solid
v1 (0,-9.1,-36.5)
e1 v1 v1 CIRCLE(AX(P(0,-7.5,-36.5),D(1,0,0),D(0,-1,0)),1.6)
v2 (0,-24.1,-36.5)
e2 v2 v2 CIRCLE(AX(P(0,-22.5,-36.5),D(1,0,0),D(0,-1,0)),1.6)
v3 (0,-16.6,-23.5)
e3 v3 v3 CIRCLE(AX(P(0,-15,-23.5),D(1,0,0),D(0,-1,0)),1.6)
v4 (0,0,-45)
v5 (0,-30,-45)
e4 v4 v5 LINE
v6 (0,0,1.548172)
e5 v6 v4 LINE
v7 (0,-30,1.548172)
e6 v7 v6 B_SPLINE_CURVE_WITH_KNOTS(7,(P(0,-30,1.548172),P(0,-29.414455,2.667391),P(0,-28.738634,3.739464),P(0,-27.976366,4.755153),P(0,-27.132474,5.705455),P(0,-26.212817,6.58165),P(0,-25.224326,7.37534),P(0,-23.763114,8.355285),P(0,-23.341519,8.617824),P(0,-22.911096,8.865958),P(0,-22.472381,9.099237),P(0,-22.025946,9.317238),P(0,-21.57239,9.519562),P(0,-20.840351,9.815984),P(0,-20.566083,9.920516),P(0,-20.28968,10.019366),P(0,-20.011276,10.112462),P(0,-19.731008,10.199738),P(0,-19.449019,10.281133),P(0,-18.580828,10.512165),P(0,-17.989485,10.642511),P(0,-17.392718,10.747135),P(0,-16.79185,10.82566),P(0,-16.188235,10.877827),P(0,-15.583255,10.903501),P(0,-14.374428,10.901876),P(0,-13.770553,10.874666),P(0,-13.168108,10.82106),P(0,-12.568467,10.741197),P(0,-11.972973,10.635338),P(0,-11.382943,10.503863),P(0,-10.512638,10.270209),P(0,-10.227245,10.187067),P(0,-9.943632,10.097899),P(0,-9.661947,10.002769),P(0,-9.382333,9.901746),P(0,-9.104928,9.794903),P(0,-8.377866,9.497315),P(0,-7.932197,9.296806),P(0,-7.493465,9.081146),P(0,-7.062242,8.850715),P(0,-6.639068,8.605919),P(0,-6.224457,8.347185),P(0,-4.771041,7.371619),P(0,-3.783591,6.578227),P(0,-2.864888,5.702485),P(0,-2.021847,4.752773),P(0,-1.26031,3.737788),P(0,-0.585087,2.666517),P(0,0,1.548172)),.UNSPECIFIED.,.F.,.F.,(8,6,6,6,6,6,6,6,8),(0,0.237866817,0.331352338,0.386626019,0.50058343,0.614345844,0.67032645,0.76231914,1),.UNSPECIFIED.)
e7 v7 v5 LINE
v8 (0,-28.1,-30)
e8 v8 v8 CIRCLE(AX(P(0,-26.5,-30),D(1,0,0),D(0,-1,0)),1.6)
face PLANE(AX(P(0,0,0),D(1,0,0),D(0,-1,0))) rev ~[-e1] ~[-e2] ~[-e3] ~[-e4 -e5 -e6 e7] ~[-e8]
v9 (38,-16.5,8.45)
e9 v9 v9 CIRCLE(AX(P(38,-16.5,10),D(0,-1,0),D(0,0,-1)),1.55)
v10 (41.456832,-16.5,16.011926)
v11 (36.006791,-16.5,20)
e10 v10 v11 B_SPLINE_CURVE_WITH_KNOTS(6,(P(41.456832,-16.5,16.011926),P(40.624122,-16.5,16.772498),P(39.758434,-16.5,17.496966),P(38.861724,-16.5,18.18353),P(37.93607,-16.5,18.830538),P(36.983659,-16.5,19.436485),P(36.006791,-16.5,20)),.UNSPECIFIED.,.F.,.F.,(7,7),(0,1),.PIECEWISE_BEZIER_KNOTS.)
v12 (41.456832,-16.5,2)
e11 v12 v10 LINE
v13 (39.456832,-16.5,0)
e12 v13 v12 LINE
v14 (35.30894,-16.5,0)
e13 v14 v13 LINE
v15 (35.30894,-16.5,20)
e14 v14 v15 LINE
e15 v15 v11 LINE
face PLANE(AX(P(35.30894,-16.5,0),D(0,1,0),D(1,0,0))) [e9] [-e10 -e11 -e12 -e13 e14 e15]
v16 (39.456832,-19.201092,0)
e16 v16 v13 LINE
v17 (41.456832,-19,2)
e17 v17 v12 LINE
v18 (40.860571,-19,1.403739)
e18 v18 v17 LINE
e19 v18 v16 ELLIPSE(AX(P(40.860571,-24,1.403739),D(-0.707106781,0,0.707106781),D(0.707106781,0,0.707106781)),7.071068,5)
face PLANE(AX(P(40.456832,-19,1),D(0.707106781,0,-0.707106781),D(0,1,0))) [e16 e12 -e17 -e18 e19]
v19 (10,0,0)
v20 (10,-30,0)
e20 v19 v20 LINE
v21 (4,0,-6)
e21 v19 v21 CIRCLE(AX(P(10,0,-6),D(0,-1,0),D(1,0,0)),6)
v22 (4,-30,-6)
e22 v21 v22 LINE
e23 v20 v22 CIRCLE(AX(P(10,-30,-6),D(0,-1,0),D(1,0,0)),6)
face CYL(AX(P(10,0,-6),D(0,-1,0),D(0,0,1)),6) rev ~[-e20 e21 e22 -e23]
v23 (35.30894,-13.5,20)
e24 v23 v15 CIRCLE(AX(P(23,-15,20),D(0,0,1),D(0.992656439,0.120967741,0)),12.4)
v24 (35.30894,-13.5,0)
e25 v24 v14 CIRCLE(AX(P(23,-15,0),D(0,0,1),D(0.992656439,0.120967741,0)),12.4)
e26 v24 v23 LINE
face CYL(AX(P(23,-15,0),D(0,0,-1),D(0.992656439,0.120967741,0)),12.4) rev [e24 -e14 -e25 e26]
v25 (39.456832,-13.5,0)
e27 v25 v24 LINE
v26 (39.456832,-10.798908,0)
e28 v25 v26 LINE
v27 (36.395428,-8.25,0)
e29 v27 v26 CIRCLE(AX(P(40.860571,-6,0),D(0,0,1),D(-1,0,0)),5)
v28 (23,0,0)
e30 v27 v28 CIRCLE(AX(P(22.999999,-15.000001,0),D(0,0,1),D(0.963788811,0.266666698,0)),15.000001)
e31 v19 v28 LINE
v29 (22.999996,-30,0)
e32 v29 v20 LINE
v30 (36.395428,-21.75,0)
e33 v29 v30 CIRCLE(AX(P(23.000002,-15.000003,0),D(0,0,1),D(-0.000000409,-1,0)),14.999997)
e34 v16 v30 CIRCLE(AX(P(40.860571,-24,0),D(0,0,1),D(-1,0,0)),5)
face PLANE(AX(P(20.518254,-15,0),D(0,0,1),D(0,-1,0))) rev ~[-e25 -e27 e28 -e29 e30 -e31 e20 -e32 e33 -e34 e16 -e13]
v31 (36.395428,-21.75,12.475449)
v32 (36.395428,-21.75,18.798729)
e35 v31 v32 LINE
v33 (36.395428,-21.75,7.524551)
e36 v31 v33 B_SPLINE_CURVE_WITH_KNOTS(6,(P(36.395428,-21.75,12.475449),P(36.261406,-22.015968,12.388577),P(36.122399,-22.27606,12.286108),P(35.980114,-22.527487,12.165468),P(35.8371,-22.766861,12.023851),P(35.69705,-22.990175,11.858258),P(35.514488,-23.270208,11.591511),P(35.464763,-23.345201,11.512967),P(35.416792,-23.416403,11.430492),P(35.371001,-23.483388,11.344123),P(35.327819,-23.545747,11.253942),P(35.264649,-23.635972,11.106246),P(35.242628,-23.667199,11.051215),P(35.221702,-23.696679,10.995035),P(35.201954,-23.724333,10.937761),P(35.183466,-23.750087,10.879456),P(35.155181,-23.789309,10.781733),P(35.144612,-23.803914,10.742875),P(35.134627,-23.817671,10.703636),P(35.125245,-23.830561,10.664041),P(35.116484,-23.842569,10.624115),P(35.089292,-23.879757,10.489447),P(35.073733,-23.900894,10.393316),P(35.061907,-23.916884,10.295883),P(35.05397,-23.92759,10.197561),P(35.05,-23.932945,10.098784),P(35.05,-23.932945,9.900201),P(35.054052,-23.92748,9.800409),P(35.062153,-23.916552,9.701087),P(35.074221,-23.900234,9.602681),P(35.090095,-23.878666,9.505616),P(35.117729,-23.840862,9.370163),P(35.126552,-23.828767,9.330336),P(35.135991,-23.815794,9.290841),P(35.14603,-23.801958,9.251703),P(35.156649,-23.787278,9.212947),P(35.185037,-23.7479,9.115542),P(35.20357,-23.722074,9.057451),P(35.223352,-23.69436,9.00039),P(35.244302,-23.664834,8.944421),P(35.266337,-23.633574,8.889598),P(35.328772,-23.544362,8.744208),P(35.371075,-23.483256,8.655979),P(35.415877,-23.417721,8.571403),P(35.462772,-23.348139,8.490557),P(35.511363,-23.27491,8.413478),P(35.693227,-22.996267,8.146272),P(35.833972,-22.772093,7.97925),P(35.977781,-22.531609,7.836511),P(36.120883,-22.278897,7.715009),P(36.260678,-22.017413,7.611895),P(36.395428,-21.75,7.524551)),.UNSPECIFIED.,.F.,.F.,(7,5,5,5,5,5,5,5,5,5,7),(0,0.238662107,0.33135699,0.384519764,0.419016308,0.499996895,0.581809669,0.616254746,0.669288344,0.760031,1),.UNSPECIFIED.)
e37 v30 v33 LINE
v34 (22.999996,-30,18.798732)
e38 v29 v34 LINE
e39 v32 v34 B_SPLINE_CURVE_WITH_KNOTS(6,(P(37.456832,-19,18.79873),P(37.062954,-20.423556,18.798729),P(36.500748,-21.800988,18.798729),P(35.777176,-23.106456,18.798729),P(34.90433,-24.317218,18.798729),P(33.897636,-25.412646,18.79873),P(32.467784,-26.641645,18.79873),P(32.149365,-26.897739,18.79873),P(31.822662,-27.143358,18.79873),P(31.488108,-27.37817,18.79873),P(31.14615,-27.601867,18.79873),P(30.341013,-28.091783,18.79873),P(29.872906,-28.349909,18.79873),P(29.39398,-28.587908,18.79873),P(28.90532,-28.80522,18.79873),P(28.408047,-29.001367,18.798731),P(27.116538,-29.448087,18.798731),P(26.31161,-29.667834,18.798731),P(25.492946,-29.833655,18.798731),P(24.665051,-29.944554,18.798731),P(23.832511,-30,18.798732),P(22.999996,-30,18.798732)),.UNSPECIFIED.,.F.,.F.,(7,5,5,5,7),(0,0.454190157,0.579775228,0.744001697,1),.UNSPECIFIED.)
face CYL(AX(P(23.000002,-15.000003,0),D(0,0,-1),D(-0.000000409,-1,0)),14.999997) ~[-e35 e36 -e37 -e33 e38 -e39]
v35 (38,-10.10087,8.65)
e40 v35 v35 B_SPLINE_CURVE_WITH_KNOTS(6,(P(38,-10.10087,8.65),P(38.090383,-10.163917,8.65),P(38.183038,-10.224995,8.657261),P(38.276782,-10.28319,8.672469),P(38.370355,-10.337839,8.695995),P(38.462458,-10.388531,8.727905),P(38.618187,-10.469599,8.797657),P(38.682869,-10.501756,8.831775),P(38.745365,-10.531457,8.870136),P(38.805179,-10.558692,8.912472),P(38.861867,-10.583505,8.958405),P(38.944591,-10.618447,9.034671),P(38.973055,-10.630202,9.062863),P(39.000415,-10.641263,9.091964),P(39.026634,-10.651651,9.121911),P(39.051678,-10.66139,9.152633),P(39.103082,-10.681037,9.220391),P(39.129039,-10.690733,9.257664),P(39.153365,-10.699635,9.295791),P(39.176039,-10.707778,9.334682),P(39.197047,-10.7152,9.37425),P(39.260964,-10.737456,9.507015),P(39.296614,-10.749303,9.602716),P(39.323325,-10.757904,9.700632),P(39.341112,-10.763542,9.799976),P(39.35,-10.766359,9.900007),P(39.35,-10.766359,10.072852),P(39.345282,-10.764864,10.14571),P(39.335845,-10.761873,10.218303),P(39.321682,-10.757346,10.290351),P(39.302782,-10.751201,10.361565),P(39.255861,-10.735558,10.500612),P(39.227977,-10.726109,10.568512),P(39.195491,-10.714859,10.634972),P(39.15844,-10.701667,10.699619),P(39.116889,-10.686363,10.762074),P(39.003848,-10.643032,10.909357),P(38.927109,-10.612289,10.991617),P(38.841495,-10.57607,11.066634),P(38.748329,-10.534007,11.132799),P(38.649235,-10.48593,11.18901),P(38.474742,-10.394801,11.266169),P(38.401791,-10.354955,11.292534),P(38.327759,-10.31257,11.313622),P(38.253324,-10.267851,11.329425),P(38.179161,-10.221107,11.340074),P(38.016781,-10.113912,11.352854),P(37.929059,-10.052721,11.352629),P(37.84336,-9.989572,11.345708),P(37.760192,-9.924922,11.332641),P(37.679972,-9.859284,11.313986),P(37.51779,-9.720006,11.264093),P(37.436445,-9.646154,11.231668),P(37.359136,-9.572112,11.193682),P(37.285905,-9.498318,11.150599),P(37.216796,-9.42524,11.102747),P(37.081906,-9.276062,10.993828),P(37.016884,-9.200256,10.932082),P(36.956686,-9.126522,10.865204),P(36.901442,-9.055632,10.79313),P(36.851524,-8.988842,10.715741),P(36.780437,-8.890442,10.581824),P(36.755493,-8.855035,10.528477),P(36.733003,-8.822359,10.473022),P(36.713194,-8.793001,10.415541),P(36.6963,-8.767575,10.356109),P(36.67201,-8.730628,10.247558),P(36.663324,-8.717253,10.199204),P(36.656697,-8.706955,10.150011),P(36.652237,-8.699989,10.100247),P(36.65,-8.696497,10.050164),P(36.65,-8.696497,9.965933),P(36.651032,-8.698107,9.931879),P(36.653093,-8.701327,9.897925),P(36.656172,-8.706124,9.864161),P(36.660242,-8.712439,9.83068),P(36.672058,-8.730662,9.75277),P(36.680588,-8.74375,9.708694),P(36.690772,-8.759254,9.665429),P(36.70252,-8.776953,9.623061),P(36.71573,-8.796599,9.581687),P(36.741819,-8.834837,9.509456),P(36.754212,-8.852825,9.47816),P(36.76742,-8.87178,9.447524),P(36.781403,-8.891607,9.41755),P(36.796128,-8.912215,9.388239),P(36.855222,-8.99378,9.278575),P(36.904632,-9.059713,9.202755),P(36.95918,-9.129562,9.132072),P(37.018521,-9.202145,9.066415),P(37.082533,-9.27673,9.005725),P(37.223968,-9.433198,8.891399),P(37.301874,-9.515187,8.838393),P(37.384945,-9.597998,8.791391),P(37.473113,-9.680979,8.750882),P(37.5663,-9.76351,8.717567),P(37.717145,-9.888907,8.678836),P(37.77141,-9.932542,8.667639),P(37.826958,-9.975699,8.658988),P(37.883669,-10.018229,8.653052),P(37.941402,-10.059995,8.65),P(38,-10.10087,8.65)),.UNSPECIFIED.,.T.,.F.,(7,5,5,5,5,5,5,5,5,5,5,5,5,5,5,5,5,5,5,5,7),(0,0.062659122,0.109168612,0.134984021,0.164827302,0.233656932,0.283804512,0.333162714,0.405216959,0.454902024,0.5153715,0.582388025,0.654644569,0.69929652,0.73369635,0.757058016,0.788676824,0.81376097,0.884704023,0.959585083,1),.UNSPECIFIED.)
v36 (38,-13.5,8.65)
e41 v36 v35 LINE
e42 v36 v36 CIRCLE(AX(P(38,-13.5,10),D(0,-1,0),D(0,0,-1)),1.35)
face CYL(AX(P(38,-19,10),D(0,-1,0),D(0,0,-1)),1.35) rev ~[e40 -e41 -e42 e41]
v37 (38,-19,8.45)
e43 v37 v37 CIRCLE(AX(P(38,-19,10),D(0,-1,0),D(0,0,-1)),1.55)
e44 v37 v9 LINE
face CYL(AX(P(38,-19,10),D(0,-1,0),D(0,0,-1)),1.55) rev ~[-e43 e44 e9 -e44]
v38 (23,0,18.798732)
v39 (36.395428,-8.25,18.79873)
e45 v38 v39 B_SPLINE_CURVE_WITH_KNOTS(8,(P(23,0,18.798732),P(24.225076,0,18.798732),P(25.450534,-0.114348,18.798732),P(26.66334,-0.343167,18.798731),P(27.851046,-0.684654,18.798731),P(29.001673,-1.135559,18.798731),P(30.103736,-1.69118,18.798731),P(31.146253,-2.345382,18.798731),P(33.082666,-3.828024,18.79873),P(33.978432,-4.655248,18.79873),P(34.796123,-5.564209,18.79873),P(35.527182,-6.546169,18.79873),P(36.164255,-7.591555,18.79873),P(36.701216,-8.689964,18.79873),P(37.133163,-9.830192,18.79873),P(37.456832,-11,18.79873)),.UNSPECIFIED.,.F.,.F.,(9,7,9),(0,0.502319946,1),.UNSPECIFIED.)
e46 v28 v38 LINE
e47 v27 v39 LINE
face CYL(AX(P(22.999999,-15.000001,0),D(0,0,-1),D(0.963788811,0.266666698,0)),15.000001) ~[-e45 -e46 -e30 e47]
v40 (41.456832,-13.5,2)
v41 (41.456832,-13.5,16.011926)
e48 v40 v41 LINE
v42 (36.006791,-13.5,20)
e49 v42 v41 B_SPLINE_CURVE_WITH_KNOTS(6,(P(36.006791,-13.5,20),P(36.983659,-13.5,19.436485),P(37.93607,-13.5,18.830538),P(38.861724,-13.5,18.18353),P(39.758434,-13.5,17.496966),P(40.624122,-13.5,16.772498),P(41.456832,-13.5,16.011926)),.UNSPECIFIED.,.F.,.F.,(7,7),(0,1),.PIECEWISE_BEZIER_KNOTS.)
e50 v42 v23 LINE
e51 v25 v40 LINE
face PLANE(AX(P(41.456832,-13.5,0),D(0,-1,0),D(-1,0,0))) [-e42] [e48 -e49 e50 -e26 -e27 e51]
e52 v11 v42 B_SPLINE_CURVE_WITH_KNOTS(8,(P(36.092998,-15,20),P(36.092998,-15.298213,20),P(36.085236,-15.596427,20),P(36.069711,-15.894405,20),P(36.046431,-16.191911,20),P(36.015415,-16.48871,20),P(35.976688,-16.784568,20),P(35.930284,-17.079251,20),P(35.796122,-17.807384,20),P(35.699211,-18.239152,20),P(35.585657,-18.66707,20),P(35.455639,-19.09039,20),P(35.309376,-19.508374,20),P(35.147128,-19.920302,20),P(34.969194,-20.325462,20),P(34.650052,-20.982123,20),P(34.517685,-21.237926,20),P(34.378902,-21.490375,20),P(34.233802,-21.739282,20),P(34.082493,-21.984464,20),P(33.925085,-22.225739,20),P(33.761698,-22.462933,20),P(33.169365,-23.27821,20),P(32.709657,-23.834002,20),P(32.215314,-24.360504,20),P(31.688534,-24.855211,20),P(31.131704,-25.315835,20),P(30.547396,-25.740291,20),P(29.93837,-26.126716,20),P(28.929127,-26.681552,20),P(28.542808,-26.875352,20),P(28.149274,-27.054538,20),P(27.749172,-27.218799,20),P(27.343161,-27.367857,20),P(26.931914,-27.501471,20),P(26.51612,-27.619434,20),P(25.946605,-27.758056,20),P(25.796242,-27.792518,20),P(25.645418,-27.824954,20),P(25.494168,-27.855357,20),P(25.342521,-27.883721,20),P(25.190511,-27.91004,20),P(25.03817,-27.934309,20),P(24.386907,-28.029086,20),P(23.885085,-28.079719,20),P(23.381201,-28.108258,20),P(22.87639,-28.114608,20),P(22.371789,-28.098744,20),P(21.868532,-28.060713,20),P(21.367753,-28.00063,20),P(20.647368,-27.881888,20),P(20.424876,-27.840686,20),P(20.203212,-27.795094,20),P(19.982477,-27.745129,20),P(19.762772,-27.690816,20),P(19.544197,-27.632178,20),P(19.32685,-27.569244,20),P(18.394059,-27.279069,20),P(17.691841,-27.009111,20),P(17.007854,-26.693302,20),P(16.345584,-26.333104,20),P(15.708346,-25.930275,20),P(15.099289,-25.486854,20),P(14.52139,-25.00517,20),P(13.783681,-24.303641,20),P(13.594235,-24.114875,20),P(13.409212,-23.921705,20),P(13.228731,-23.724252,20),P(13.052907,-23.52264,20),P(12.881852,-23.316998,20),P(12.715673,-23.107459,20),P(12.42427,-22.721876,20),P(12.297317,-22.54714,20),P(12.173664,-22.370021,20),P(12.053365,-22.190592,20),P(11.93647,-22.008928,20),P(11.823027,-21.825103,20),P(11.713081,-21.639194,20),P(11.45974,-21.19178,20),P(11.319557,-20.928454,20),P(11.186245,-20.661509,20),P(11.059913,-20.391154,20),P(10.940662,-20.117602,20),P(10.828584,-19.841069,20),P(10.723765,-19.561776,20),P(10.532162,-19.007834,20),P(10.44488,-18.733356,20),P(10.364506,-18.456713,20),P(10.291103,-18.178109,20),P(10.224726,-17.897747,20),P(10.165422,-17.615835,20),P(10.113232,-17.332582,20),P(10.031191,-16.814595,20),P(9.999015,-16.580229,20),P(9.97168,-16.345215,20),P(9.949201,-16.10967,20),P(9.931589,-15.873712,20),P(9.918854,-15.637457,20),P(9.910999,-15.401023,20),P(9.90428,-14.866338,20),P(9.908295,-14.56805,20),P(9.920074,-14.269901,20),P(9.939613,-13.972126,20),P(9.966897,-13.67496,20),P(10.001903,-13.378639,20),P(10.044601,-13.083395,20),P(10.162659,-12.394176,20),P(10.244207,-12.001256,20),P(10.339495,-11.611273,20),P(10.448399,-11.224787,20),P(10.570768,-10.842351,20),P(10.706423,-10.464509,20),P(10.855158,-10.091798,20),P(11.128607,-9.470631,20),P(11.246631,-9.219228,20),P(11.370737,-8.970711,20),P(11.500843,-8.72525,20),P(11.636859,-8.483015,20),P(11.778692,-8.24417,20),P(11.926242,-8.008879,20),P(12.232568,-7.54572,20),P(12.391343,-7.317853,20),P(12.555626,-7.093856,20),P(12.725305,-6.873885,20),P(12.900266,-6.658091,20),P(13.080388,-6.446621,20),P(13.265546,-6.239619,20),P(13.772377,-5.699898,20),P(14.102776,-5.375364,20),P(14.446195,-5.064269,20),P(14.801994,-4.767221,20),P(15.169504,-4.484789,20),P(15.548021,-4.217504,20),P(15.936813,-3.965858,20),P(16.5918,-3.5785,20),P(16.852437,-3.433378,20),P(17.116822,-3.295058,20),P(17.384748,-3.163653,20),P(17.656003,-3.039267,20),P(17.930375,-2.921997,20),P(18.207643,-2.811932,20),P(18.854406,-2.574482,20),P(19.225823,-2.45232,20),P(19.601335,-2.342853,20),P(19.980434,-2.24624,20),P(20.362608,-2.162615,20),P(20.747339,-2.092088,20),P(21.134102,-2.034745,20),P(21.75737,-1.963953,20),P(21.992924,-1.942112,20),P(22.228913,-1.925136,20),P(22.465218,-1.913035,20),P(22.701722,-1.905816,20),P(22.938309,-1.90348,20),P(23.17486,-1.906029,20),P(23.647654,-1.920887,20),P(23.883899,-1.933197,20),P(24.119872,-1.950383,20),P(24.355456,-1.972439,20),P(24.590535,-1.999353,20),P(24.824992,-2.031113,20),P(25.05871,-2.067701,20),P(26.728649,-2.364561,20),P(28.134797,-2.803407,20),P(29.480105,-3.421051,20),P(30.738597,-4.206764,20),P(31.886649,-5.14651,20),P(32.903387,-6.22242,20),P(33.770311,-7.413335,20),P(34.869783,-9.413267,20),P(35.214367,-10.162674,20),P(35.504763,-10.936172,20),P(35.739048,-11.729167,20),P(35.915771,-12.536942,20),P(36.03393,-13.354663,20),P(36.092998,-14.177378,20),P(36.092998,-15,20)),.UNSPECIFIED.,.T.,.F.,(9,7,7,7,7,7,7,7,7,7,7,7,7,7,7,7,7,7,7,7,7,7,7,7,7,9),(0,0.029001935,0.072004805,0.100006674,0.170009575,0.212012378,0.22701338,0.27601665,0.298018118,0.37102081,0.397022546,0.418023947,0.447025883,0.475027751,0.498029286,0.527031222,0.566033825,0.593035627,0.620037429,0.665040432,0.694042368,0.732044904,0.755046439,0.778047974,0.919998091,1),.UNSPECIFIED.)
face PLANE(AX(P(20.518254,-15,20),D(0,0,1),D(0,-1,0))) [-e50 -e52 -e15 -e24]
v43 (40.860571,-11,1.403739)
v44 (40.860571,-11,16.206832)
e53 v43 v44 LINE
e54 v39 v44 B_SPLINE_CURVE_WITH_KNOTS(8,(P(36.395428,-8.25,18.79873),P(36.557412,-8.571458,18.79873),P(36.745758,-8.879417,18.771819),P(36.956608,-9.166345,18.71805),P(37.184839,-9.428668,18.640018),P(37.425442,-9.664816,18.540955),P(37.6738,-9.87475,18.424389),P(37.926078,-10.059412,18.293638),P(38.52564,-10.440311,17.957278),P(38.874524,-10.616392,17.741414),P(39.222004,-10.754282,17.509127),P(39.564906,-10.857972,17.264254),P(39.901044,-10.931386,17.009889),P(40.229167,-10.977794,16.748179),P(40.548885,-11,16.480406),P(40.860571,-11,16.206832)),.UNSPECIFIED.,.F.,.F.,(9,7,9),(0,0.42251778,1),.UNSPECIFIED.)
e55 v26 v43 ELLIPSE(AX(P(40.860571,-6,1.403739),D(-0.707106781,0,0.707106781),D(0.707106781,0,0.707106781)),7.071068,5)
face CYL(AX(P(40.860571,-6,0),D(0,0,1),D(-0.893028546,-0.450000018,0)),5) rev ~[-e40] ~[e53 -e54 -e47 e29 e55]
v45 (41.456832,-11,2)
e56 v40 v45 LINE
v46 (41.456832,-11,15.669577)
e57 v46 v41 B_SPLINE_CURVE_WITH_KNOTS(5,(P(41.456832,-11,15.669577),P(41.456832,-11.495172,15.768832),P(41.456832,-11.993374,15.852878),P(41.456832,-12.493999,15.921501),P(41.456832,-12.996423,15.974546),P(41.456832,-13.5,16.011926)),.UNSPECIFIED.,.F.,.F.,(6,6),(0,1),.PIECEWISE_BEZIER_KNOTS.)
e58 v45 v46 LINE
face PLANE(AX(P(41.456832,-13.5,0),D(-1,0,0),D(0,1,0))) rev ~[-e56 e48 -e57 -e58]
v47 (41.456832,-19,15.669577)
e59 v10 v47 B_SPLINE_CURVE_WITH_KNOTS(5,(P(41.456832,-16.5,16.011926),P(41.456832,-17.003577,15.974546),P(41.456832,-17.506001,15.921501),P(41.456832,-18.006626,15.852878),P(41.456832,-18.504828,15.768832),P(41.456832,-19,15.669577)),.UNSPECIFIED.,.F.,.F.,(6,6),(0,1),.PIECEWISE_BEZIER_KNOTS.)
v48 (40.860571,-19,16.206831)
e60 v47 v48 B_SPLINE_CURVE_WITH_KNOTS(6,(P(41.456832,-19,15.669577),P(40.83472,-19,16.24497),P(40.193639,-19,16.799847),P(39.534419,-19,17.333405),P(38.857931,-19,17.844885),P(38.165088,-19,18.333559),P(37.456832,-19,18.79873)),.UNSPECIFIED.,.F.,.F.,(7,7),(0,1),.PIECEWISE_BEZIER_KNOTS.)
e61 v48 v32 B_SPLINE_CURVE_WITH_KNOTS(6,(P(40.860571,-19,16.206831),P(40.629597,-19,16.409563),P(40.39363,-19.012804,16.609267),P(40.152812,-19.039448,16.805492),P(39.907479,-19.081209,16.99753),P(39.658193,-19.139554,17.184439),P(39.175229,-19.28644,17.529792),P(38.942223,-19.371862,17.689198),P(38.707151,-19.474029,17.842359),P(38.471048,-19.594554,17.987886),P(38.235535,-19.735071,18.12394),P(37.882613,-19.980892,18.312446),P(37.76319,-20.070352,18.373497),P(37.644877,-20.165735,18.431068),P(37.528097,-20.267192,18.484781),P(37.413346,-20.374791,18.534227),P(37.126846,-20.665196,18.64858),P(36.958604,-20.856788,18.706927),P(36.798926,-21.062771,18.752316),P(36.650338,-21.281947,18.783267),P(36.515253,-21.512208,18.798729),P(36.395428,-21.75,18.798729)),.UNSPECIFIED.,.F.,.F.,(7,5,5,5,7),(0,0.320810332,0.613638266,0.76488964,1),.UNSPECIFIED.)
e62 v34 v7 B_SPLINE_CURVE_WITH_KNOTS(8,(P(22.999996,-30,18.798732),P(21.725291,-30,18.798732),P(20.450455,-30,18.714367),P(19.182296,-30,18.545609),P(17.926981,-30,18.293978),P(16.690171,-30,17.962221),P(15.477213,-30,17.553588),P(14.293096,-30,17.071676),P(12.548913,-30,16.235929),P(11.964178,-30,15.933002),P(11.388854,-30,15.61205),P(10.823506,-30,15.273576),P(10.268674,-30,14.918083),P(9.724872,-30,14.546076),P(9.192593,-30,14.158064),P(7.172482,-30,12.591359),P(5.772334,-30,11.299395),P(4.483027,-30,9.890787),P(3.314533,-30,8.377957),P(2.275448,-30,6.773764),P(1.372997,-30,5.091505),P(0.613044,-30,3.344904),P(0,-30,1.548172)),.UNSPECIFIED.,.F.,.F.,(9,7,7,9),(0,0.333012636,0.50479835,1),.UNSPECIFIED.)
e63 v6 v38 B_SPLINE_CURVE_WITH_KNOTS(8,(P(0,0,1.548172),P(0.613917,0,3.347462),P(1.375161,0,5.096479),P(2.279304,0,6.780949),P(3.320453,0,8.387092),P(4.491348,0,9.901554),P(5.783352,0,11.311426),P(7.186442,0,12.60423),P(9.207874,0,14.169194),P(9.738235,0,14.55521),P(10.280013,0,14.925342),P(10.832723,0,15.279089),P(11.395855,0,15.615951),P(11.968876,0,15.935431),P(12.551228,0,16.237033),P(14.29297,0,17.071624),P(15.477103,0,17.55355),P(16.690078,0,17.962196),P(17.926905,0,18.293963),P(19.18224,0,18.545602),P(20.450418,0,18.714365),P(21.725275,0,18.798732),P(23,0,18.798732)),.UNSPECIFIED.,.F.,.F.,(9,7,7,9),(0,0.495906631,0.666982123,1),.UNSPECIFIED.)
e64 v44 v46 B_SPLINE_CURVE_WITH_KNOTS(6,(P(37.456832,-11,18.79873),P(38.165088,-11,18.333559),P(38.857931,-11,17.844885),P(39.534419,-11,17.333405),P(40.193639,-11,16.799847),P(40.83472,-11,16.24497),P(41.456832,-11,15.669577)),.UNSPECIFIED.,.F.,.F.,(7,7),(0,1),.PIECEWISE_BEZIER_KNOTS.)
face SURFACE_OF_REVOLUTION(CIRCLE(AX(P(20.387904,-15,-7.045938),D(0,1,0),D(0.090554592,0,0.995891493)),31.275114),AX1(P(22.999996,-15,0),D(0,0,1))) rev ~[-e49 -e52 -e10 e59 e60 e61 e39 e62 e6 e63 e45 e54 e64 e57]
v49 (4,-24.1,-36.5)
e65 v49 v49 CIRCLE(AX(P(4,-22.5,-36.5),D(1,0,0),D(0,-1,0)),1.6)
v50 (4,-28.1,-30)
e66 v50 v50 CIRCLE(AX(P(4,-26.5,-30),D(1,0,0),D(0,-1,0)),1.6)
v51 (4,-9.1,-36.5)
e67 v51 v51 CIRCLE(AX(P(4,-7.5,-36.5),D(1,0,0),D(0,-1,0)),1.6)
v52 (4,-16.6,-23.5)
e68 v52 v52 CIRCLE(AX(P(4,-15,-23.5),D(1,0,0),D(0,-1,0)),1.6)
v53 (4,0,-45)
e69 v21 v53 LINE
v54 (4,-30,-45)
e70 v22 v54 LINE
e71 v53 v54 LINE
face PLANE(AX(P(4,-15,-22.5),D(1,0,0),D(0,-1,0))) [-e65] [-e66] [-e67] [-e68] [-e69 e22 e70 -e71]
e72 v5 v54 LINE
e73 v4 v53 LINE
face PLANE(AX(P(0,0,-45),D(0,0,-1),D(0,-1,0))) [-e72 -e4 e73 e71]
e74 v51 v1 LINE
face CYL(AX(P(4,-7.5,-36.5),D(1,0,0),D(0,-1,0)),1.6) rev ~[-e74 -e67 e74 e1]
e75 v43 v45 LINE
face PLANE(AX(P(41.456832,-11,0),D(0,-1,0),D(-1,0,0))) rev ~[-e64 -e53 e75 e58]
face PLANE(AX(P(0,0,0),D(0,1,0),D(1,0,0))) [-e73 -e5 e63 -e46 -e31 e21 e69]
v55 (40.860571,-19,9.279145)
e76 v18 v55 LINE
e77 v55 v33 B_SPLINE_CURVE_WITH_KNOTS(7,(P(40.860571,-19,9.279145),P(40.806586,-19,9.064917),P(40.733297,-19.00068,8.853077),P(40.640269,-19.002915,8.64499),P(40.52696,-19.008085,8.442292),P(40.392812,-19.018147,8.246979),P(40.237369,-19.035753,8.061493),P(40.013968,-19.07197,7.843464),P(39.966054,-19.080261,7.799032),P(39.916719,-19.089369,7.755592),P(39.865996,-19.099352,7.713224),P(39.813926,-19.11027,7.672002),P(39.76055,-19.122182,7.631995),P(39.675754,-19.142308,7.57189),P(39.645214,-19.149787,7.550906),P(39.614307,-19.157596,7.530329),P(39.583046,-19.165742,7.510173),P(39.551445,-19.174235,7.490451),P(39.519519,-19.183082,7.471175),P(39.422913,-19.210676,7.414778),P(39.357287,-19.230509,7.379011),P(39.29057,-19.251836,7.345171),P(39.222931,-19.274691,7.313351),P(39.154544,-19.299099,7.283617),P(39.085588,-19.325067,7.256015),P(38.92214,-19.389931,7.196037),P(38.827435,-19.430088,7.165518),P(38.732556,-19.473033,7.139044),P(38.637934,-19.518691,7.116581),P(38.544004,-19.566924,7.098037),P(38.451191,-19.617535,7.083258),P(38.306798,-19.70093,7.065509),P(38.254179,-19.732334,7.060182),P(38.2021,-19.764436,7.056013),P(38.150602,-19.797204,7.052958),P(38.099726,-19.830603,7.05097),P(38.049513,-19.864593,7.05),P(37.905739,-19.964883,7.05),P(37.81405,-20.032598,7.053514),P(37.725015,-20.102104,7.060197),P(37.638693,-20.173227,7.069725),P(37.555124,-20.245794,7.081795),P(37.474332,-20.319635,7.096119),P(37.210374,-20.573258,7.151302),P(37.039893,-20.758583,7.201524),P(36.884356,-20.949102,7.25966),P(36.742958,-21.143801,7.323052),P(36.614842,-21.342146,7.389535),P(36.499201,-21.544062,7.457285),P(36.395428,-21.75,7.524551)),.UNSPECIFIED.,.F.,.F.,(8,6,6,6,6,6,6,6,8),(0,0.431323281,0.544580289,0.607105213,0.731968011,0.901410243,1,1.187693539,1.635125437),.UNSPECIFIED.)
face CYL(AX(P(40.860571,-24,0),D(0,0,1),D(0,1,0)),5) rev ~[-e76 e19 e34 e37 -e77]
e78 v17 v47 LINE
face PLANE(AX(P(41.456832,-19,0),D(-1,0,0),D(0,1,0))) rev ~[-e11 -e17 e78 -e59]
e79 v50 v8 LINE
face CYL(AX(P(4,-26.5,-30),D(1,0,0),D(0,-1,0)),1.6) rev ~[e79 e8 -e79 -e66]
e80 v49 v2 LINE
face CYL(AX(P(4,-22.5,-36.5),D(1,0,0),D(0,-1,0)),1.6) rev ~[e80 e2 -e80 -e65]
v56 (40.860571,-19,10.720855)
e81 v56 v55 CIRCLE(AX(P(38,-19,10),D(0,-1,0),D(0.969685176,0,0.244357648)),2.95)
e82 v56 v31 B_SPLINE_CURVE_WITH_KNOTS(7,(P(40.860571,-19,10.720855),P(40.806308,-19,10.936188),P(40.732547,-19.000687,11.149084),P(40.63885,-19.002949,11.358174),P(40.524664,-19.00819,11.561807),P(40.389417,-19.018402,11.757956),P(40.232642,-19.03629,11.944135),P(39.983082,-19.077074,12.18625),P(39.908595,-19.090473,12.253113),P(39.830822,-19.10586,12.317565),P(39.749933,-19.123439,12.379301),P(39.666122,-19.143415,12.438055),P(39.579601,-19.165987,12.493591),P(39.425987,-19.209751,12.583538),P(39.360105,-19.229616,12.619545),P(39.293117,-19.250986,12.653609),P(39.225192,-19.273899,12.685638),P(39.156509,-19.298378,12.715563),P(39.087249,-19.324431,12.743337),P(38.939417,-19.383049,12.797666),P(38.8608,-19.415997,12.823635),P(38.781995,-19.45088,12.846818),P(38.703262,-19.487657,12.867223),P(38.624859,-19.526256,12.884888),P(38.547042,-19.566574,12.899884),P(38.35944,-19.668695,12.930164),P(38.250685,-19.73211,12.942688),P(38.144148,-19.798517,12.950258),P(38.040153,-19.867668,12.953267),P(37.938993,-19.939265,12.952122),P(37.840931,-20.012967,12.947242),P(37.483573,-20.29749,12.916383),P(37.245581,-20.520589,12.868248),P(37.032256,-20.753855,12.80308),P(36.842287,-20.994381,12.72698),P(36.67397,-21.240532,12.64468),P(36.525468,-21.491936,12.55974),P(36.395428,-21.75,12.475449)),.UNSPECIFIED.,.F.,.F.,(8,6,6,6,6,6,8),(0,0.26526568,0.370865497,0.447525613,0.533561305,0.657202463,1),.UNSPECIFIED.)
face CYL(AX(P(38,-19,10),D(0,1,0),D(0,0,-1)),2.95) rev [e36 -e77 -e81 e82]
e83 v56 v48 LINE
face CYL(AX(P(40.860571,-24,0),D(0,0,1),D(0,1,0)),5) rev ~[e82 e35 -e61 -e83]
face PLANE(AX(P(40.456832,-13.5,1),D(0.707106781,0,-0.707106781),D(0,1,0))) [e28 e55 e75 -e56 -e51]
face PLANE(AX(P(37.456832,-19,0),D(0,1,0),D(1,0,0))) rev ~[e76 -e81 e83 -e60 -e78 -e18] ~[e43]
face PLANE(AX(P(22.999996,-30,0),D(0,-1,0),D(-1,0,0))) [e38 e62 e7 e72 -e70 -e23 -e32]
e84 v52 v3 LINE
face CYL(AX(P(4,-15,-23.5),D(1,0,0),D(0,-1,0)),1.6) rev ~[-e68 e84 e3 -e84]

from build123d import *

# Parameters (mm, degrees)
SKETCH152_W             = 30
SKETCH152_H             = 45
PAD076_DEPTH            = 4
PAD077_DEPTH            = 20
SKETCH159_R             = 1.6
POCKET059_DEPTH         = 5
FILLET_R                = 6
CHAMFER_SIZE            = 2
FILLET001_R             = 5
SKETCH_R                = 1.35
POCKET_DEPTH            = 19.001
POCKET_DEPTH_BACK       = -11.001
SKETCH165_R             = 2.95
POCKET060_DEPTH         = 5
SKETCH166_R             = 1.55
POCKET061_DEPTH         = 2.5
BODY061_ROLL_ANGLE      = -90
BODY061_PLACEMENT_ANGLE = -90


with BuildPart() as part:
    # Sketch152 → Pad076 (new body)
    with BuildSketch(Plane.XY):
        with Locations((15, 22.5)):
            Rectangle(SKETCH152_W, SKETCH152_H)
    extrude(amount=PAD076_DEPTH)

    # Sketch153 (on Face1 of Pad076) → Pad077 (join)
    with BuildSketch(Plane.XZ):
        with BuildLine():
            ThreePointArc((30, 22.999996), (26.937338, 32.08295), (19, 37.456832))
            Line((19, 37.456832), (19, 41.456832))
            Line((19, 41.456832), (16.5, 41.456832))
            Line((16.5, 35.30894), (16.5, 41.456832))
            ThreePointArc((13.5, 35.30894), (15, 10.6), (16.5, 35.30894))
            Line((13.5, 41.456832), (13.5, 35.30894))
            Line((13.5, 41.456832), (11, 41.456832))
            Line((11, 41.456832), (11, 37.456832))
            ThreePointArc((11, 37.456832), (3.062664, 32.082951), (0, 23))
            Line((0, 0), (0, 23))
            Line((0, 0), (30, 0))
            Line((30, 22.999996), (30, 0))
        make_face()
    extrude(amount=PAD077_DEPTH)

    # Sketch159 → Pocket059 (cut)
    with BuildSketch(Plane.XY.offset(4)):
        with Locations((7.5, 36.5)):
            Circle(SKETCH159_R)
        with Locations((15, 23.5)):
            Circle(SKETCH159_R)
        with Locations((22.5, 36.5)):
            Circle(SKETCH159_R)
        with Locations((26.5, 30)):
            Circle(SKETCH159_R)
    extrude(amount=-POCKET059_DEPTH, mode=Mode.SUBTRACT)

    # Sketch164 (on DatumPlane) → Groove (revolve, cut)
    with BuildSketch(Plane(origin=(15, 0, 0), x_dir=(0, -1, 0), z_dir=(-1, 0, 0))):
        with BuildLine():
            Line((42.60314, 23.220009), (24.100682, 23.220009))
            ThreePointArc((24.100682, 23.220009), (15.81151, 41.734328), (-2.093555, 51.268426))
            Line((-2.093555, 59.264427), (-2.093555, 51.268426))
            Line((-2.093555, 59.264427), (35.073817, 59.264427))
            Line((42.60314, 23.220009), (35.073817, 59.264427))
        make_face()
    revolve(axis=Axis((15, 0, 22.999996), (0, -1, 0)), mode=Mode.SUBTRACT)

    # Fillet
    fillet_edges = [part.edges().sort_by_distance(p)[0] for p in [
        (15, 0, 4),
    ]]
    fillet(fillet_edges, radius=FILLET_R)

    # Chamfer
    chamfer_edges = [part.edges().sort_by_distance(p)[0] for p in [
        (12.25, 0, 41.456832),
        (17.75, 0, 41.456832),
    ]]
    chamfer(chamfer_edges, length=CHAMFER_SIZE)

    # Fillet001
    fillet001_edges = [part.edges().sort_by_distance(p)[0] for p in [
        (11, -9.399365, 37.456832),
        (19, -9.399365, 37.456832),
    ]]
    fillet(fillet001_edges, radius=FILLET001_R)

    # Sketch (on Face23 of Fillet001) → Pocket (cut, two sides)
    with BuildSketch(Plane.YZ.offset(19)) as pocket_sk:
        with Locations((-10, 38)):
            Circle(SKETCH_R)
    extrude(amount=-POCKET_DEPTH, mode=Mode.SUBTRACT)
    extrude(pocket_sk.sketch, amount=-POCKET_DEPTH_BACK, mode=Mode.SUBTRACT)

    # Sketch165 (on Face25 of Pocket) → Pocket060 (cut)
    with BuildSketch(Plane.YZ.offset(19)):
        with Locations((-10, 38)):
            Circle(SKETCH165_R)
    extrude(amount=POCKET060_DEPTH, mode=Mode.SUBTRACT)

    # Sketch166 (on Face31 of Pocket060) → Pocket061 (cut)
    with BuildSketch(Plane.YZ.offset(19)):
        with Locations((-10, 38)):
            Circle(SKETCH166_R)
    extrude(amount=-POCKET061_DEPTH, mode=Mode.SUBTRACT)


with BuildPart() as part_1:
    # Body061 roll: moved
    add(part.part.rotate(Axis((0, 0, 0), (1, 0, 0)), BODY061_ROLL_ANGLE))


with BuildPart() as part_2:
    # Body061 placement: moved
    add(part_1.part.rotate(Axis((0, 0, 0), (0, 0, 1)), BODY061_PLACEMENT_ANGLE))


solid = part_2.part
